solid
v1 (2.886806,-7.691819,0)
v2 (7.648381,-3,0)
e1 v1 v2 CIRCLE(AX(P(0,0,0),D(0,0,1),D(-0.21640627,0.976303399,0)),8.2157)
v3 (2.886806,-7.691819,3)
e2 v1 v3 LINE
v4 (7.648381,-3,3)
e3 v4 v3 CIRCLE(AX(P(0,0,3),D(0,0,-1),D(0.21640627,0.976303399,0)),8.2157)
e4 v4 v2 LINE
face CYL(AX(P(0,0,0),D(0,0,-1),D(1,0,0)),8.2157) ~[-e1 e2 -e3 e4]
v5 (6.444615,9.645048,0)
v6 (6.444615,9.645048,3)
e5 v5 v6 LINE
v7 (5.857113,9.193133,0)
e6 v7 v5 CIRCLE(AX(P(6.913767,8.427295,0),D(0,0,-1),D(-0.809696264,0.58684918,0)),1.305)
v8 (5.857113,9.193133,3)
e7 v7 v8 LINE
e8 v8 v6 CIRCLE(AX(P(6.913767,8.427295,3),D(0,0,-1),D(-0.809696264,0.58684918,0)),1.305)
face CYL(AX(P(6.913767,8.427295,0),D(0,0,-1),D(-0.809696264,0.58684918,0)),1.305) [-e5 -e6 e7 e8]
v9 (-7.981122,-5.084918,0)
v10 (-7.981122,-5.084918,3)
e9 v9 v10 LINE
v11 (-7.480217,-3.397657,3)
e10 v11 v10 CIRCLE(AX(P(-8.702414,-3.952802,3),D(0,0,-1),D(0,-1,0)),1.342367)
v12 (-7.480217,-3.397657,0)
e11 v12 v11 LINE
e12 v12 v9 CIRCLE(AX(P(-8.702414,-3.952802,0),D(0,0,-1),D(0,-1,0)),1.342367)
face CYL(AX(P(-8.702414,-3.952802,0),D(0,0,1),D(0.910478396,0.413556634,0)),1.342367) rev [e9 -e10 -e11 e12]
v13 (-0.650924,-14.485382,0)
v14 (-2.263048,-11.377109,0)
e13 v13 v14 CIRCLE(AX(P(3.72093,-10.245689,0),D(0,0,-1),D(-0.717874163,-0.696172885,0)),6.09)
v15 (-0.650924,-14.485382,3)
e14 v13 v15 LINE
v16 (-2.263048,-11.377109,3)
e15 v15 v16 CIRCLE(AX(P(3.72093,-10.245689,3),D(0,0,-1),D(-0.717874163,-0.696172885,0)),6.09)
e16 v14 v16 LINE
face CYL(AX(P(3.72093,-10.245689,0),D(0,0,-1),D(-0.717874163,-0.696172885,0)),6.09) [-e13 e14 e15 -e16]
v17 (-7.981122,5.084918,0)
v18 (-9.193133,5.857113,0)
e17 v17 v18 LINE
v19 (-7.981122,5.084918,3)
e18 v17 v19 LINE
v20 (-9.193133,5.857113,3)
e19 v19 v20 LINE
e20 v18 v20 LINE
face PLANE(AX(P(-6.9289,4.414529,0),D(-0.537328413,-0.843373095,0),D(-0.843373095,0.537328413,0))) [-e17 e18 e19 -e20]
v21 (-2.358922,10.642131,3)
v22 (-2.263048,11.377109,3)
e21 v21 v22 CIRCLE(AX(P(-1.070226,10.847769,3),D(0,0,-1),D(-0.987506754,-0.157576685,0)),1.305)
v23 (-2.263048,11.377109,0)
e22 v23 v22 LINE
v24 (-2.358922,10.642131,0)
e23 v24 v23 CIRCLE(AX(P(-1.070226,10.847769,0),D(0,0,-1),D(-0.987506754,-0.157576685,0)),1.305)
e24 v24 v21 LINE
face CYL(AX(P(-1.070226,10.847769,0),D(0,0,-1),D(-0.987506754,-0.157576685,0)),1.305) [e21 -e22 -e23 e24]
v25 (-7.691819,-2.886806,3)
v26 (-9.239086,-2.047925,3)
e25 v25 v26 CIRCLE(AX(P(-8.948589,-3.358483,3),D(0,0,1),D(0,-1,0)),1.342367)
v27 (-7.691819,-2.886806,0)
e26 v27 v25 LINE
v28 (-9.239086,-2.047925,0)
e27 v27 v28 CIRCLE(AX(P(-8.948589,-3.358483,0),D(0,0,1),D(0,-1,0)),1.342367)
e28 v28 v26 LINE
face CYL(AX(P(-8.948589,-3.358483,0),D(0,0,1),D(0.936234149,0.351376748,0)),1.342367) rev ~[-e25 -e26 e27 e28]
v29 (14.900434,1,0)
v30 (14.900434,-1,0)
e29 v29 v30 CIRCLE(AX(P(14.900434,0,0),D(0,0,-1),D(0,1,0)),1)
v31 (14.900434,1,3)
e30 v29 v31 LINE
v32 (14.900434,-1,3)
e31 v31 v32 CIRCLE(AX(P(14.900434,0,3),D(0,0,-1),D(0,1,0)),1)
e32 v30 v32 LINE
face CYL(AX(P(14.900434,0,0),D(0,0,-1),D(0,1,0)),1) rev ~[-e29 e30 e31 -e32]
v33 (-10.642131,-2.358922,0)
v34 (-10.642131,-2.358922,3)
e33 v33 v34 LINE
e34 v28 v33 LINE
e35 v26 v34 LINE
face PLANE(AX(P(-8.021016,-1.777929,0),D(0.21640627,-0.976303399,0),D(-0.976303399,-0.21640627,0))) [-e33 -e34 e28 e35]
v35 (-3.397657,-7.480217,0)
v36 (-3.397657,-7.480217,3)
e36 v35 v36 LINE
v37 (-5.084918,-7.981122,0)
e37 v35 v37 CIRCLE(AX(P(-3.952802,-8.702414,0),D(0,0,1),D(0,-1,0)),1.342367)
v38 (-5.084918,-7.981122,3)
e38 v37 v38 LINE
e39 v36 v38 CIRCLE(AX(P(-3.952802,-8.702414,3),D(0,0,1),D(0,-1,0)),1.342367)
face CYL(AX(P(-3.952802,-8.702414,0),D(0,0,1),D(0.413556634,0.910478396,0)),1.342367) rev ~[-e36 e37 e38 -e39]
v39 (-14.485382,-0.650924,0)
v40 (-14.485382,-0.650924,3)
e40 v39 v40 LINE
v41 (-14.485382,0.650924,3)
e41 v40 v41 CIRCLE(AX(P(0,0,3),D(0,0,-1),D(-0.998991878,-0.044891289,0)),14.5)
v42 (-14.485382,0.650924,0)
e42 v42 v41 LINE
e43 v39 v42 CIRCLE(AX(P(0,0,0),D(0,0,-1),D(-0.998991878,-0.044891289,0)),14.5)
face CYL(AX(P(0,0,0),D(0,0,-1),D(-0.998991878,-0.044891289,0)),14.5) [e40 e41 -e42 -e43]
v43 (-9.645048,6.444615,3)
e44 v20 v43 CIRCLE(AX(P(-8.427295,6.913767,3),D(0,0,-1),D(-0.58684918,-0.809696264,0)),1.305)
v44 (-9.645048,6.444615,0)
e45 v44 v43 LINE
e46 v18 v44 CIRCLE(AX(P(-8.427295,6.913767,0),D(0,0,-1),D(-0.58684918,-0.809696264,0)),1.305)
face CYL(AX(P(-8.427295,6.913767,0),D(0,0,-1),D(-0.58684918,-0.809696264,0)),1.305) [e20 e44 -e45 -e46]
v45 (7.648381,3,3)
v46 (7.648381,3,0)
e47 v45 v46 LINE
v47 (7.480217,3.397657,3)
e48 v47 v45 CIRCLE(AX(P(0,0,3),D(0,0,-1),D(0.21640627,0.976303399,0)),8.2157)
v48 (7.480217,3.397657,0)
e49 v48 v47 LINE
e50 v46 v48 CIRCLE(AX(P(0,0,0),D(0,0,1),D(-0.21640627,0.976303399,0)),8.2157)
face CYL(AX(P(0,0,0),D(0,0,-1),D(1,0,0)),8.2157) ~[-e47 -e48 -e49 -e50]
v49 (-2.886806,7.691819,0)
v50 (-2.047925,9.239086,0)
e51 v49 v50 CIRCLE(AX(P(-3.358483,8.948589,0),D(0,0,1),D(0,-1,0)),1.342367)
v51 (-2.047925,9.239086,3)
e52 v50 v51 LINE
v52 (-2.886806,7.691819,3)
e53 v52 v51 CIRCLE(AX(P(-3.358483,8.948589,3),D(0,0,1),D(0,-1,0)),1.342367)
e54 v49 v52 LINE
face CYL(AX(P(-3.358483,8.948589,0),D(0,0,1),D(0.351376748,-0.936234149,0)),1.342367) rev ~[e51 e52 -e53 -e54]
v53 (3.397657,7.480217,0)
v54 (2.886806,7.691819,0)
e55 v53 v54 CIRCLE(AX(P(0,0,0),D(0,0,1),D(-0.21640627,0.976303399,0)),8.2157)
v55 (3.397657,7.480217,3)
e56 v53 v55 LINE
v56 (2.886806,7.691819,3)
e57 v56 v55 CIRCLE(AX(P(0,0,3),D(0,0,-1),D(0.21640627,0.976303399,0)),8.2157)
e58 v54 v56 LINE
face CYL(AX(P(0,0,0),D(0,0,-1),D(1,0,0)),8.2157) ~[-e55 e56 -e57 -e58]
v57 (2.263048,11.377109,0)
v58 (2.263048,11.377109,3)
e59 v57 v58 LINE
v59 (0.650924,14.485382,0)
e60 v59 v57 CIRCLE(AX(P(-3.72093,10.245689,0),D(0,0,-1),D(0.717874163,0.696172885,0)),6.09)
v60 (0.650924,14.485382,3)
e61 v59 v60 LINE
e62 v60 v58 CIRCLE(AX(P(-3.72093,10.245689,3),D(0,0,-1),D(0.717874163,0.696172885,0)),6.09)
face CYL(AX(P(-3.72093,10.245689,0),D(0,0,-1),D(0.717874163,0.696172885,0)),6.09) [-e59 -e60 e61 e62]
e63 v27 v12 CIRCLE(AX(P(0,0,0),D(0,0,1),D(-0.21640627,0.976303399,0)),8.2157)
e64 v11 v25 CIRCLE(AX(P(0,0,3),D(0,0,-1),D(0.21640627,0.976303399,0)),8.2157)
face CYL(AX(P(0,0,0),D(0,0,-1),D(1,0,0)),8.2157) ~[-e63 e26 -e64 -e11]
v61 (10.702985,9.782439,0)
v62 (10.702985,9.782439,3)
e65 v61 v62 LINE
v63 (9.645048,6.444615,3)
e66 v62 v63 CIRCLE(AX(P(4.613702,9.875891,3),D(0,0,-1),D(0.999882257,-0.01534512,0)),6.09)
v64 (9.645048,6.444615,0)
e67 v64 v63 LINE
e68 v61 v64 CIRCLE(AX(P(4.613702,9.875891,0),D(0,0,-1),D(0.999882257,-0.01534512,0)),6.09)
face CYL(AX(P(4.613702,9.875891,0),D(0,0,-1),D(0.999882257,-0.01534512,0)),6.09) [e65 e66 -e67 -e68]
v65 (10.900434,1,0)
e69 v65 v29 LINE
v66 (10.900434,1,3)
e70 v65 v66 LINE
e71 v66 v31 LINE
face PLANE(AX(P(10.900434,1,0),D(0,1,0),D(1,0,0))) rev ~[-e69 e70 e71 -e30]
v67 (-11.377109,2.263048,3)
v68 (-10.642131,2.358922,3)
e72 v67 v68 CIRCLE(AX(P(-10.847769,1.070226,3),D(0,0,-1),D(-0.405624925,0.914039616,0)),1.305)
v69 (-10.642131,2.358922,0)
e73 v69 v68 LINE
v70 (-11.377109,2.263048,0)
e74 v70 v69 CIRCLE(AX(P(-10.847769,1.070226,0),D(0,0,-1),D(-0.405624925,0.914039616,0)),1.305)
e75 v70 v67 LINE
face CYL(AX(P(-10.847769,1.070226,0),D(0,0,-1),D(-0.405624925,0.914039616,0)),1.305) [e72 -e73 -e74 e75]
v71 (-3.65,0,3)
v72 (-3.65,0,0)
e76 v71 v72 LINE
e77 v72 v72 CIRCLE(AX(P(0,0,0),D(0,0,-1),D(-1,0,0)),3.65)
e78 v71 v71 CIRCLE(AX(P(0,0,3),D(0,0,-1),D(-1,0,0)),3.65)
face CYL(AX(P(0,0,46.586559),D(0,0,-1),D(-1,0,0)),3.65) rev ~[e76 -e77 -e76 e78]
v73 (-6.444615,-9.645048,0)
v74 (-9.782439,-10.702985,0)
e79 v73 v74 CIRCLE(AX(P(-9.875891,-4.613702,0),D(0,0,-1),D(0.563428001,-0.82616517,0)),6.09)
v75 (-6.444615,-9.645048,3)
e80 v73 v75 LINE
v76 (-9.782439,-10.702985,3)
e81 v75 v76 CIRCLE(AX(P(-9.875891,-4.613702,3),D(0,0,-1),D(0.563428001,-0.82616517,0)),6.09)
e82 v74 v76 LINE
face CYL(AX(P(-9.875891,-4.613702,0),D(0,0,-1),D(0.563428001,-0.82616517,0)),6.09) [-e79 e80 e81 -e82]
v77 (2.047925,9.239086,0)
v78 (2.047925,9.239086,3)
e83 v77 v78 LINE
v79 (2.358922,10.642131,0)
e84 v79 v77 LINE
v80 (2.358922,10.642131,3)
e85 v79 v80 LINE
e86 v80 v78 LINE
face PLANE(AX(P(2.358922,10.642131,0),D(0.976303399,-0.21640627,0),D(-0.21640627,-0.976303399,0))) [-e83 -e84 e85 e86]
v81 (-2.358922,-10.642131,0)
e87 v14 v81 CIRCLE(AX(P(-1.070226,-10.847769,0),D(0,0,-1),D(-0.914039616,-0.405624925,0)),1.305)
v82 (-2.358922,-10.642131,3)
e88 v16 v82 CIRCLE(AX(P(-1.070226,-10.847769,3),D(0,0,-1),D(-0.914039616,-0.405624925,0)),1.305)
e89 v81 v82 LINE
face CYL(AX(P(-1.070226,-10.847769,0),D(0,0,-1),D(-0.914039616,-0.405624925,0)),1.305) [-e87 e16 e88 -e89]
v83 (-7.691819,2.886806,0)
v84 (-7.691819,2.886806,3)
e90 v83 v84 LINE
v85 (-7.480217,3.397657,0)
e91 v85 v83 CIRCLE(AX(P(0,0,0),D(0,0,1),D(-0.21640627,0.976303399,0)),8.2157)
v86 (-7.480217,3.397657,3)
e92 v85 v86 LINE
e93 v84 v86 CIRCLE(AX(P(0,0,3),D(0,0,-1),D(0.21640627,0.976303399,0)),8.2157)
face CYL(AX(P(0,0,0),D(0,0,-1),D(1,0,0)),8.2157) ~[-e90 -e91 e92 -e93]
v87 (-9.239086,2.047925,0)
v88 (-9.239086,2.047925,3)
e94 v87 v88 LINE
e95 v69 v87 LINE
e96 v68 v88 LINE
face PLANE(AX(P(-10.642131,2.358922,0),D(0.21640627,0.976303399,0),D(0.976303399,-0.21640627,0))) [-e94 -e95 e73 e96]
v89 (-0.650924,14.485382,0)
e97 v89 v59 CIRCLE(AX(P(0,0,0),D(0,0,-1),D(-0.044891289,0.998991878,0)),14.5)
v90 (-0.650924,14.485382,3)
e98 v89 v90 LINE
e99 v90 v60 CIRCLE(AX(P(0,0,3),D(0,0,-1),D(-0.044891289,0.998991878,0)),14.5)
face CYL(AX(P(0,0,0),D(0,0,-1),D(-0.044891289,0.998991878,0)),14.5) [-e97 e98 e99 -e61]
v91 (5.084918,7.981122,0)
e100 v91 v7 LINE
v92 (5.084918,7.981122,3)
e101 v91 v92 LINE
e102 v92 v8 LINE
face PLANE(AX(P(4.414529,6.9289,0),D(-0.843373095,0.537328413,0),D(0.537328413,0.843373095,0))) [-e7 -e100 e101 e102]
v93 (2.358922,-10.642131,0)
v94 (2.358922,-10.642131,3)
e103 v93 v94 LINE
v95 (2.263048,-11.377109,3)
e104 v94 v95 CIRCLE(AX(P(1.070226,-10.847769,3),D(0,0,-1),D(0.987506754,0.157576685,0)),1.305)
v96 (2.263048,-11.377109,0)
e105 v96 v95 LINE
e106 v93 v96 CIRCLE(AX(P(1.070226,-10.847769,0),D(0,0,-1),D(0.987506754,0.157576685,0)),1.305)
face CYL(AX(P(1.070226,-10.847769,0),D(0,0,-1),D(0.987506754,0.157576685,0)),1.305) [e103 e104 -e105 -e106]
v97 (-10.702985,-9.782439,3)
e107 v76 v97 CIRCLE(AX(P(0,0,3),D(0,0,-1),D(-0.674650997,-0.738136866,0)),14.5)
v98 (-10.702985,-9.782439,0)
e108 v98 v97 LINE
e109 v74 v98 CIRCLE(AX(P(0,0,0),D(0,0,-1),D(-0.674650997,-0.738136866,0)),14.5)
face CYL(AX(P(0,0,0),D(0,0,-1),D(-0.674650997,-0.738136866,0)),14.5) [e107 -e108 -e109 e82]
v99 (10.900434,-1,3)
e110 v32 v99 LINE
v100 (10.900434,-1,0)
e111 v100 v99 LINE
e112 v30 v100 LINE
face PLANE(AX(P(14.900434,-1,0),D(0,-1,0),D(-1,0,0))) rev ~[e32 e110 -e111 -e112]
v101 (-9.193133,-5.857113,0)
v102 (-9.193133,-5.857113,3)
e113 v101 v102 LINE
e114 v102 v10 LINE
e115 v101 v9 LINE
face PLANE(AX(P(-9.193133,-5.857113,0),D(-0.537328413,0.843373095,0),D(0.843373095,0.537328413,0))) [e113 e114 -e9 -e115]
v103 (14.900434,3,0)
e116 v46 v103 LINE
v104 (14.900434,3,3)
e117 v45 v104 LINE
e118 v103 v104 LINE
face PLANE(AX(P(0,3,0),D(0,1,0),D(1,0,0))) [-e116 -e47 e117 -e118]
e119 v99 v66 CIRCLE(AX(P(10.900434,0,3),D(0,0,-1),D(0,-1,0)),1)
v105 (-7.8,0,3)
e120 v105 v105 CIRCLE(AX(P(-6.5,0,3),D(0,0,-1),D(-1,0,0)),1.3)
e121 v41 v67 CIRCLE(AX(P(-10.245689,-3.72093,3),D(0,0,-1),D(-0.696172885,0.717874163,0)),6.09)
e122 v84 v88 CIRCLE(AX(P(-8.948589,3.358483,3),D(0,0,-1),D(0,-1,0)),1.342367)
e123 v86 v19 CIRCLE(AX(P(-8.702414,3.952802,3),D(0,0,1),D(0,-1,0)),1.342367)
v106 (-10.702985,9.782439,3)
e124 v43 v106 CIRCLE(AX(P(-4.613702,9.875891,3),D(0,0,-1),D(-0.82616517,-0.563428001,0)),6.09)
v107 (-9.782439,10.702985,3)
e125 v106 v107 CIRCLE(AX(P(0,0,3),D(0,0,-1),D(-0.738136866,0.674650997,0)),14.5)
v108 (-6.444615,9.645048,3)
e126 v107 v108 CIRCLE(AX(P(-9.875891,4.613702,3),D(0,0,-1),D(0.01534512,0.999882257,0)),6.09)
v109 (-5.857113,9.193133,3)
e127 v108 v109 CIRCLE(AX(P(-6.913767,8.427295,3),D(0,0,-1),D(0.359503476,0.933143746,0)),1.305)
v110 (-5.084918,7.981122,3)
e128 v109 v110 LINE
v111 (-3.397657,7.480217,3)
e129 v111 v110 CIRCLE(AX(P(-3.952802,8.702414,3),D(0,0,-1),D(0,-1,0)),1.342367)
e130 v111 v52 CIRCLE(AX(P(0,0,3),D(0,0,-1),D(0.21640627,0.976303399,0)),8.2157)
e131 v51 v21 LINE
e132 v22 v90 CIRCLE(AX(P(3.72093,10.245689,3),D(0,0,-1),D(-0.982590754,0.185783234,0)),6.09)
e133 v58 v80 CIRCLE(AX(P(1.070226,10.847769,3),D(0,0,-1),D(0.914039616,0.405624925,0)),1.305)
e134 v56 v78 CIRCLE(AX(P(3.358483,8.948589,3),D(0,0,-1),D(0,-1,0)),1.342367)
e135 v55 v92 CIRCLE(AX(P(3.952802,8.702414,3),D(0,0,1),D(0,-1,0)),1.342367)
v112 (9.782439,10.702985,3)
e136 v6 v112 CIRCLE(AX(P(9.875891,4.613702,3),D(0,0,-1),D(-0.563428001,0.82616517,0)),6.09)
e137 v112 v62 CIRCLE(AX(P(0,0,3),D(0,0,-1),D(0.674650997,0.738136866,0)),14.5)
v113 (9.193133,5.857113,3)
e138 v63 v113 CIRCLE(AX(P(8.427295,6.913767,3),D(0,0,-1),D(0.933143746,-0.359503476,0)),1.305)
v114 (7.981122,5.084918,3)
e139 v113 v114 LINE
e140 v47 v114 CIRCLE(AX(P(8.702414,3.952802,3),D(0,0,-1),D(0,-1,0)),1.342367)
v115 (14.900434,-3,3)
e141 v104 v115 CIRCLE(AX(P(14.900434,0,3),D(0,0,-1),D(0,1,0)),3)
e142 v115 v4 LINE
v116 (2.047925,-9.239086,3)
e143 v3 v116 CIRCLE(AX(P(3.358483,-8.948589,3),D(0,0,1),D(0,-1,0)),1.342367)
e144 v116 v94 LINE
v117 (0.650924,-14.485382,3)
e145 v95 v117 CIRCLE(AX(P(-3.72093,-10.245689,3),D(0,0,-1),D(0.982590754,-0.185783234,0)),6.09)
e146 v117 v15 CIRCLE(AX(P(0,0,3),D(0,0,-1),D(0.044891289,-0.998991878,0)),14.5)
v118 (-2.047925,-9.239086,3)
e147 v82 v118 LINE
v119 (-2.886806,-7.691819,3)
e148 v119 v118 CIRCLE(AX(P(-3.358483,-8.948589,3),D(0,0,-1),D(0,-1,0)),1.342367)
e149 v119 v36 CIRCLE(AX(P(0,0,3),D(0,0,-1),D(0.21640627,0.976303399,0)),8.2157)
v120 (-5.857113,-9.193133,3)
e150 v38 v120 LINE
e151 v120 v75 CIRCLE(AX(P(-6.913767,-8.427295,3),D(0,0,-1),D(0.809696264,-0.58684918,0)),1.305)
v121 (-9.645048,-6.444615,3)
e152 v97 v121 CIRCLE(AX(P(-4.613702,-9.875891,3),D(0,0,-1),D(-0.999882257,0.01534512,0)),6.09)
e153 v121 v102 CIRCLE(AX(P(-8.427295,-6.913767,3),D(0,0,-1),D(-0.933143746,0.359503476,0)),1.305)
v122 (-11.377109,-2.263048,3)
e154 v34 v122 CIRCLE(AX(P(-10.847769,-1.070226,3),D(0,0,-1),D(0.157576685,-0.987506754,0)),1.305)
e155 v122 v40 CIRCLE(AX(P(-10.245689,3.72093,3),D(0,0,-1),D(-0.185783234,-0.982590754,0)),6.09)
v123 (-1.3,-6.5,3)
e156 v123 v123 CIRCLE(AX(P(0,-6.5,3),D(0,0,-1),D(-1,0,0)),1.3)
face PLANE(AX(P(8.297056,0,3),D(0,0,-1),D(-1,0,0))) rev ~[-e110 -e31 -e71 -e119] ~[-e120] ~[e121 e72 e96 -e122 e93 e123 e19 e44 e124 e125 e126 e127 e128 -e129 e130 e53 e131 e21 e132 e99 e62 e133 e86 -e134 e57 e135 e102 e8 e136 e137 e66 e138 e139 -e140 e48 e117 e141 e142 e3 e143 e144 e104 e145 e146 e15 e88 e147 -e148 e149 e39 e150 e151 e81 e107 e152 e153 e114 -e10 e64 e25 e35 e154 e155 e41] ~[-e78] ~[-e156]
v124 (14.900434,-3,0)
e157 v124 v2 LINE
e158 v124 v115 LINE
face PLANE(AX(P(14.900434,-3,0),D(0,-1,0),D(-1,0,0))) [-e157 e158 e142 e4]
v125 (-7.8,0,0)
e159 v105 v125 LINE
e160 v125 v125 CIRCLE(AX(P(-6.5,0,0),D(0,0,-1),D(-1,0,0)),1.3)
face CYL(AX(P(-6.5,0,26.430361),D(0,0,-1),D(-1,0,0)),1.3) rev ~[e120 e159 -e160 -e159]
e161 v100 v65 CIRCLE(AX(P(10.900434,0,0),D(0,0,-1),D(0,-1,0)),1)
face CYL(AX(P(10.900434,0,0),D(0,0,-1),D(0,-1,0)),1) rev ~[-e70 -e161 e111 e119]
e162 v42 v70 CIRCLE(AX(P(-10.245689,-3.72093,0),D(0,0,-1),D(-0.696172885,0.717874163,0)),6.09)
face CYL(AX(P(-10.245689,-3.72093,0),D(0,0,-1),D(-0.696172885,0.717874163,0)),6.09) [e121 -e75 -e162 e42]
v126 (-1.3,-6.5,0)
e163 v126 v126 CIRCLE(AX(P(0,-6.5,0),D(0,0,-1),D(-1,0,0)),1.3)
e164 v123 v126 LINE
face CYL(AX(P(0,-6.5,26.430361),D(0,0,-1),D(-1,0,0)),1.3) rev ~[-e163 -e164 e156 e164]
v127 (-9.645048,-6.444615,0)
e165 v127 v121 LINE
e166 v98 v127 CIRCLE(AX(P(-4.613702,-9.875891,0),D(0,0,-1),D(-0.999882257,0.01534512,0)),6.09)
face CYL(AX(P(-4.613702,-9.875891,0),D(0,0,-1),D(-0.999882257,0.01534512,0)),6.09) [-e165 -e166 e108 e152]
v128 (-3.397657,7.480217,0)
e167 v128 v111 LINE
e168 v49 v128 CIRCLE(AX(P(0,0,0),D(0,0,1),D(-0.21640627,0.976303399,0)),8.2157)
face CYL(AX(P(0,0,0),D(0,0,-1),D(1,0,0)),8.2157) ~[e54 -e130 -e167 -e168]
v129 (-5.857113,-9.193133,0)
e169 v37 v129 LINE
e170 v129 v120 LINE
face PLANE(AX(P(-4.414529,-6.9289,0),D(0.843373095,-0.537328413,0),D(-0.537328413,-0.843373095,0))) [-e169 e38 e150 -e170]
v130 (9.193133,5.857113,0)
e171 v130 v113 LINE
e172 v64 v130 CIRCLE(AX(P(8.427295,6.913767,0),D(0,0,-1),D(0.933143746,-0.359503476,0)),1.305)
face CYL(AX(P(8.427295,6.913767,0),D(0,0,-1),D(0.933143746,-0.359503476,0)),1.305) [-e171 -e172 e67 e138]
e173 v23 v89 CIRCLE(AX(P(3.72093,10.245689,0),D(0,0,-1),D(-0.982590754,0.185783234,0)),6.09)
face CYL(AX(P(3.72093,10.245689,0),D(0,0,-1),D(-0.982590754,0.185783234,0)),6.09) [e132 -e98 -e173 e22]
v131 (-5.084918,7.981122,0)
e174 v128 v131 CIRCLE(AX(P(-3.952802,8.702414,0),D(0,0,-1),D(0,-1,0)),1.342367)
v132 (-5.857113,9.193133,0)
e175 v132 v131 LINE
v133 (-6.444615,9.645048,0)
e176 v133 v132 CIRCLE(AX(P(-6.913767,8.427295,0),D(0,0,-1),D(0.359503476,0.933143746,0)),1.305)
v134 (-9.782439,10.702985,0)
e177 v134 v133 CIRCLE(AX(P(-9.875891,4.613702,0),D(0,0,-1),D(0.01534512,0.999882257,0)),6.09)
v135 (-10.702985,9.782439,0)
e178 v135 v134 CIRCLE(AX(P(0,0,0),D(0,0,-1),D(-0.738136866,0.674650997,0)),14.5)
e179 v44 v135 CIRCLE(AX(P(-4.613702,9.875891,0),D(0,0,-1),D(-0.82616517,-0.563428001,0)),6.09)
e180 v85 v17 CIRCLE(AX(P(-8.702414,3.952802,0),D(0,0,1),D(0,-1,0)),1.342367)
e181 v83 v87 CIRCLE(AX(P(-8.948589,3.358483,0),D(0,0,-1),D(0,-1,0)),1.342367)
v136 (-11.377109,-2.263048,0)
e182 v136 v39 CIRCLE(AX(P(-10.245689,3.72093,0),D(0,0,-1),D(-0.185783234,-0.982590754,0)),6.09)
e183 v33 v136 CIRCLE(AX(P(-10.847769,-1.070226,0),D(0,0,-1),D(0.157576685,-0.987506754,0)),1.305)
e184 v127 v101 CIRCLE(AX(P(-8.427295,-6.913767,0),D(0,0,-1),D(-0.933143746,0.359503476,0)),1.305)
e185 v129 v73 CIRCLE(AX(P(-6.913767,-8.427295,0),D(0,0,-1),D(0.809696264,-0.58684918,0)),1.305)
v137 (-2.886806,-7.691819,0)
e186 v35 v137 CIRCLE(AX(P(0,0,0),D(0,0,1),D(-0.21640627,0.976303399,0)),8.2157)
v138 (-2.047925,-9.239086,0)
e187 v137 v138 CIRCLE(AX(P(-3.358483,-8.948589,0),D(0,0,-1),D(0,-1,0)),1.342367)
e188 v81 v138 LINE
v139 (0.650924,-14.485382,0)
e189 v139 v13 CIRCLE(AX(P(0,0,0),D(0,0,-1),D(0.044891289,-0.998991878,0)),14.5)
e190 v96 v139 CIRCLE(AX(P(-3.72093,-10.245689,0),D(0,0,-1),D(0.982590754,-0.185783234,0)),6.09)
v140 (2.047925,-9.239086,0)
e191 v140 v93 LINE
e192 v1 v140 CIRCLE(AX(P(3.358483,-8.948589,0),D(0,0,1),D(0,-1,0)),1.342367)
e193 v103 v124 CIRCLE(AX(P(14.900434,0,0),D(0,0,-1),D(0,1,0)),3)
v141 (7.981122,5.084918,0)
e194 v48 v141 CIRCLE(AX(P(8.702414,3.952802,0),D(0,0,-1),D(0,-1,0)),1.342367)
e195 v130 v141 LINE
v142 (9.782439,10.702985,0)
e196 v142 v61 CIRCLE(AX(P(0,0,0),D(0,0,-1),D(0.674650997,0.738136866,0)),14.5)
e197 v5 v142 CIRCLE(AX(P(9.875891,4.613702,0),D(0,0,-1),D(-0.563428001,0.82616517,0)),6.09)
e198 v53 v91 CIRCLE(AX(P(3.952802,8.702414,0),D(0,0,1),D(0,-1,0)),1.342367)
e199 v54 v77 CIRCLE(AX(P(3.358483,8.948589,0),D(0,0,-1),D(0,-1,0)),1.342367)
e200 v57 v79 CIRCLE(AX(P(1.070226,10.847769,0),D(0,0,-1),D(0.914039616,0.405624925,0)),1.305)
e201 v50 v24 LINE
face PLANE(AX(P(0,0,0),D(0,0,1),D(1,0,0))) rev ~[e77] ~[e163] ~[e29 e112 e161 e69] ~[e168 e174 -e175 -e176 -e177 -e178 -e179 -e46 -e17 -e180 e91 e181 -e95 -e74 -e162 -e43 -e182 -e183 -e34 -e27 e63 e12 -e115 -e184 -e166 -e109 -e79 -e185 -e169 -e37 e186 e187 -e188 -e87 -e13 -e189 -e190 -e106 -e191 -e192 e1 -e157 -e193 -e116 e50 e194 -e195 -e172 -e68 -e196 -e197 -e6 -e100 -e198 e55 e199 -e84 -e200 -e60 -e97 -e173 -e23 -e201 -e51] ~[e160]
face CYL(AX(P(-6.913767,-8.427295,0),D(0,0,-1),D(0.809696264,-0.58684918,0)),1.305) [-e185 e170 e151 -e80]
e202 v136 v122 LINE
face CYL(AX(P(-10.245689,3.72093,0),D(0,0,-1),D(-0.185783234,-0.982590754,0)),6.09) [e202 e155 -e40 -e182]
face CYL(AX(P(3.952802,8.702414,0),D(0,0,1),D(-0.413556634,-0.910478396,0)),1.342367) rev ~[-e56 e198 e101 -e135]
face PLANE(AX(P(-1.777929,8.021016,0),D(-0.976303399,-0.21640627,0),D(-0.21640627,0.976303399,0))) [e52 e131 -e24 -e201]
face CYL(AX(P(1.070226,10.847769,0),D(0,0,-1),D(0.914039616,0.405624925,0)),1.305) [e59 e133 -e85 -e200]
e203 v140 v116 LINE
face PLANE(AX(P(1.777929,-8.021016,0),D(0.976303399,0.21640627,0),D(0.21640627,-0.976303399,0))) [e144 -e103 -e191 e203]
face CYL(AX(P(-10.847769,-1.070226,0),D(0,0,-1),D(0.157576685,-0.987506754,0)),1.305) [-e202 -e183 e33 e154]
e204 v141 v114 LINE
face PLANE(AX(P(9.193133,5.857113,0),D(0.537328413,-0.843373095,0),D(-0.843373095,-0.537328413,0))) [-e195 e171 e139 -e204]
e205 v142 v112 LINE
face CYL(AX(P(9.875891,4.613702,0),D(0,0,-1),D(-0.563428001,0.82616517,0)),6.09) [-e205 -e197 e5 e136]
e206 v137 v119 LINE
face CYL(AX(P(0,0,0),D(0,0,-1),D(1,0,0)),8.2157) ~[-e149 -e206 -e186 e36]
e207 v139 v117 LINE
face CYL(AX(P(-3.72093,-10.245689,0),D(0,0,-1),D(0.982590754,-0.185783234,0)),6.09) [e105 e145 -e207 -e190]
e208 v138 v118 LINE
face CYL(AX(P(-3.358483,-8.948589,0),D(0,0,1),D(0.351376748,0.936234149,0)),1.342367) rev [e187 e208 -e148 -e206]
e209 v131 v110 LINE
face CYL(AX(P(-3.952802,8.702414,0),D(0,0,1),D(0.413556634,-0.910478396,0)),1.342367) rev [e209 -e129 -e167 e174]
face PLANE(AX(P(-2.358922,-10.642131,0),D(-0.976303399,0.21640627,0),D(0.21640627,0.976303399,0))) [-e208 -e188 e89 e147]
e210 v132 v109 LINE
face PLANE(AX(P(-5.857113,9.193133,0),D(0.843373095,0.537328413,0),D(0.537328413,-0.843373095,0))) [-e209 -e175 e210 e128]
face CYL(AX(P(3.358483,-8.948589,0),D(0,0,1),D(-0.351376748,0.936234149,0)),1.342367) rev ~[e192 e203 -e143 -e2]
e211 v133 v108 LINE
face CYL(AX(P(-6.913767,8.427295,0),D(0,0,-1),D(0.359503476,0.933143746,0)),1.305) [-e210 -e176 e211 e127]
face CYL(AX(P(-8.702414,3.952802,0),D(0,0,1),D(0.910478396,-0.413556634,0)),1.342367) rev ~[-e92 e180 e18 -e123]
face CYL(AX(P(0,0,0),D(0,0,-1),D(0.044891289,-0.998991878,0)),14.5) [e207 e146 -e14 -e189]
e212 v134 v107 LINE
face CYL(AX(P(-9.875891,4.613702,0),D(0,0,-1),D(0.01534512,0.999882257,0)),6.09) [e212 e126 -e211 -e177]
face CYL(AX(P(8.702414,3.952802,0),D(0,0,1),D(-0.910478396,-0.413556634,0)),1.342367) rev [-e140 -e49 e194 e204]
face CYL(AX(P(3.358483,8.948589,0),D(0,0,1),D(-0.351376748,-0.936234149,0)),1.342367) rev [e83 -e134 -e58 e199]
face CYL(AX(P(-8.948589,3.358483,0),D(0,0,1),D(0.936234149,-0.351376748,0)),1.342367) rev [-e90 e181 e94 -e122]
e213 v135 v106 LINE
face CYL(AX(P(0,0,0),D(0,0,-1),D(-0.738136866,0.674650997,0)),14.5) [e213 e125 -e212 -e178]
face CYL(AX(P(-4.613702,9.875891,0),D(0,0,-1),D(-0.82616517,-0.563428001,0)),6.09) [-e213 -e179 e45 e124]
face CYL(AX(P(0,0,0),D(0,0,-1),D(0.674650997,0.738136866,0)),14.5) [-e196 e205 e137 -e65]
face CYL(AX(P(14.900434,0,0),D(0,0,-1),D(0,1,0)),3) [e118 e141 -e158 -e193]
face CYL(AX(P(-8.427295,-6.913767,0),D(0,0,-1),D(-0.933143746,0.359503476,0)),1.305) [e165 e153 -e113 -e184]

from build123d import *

# Parameters (mm, degrees)
POSICIONAMENTOS_R               = 8.2157
BASE_DEPTH                      = 3
FURO_DE_DI_METRO_2_6_2_6_1_D    = 2.6
BASE_DENTE_DEPTH                = 3
RAIO_DENTE_R                    = 1.342367201
PADR_OCIRCULAR1_COUNT           = 8
RAIO_DENTE_OF_PADR_OCIRCULAR1_R = 1.342367201
RESSALTO_EXTRUS_O1_DEPTH        = 3
FURO_DE_DI_METRO_7_3_7_3_1_D    = 7.3


with BuildPart() as part:
    # Posicionamentos → Base (new body)
    with BuildSketch(Plane.XY):
        Circle(POSICIONAMENTOS_R)
    extrude(amount=BASE_DEPTH)

    # Furo de diâmetro Ø2.6 (2.6)1 (through all)
    with Locations(Plane.XY.offset(3)):
        with Locations((0, -6.5), (-6.5, 0)):
            Hole(FURO_DE_DI_METRO_2_6_2_6_1_D / 2)

    # Dente → Base Dente (add, through all)
    with BuildSketch(Plane.XY):
        with BuildLine():
            Line((2.358922349, 10.642131153), (1.777928991, 8.021015833))
            ThreePointArc((1.777928991, 8.021015833), (0, 8.2157), (-1.777928991, 8.021015833))
            Line((-1.777928991, 8.021015833), (-2.358922349, 10.642131153))
            ThreePointArc((-2.358922349, 10.642131153), (-2.364262787, 11.016570047), (-2.263047735, 11.377109253))
            ThreePointArc((-2.263047735, 11.377109253), (-1.685191659, 13.049606095), (-0.650923694, 14.48538223))
            ThreePointArc((-0.650923694, 14.48538223), (0, 14.5), (0.650923694, 14.48538223))
            ThreePointArc((0.650923694, 14.48538223), (1.685191659, 13.049606095), (2.263047735, 11.377109253))
            ThreePointArc((2.263047735, 11.377109253), (2.364262787, 11.016570047), (2.358922349, 10.642131153))
        make_face()
    base_dente = extrude(amount=BASE_DENTE_DEPTH)

    # Raio Dente
    raio_dente_edges = [part.edges().sort_by_distance(p)[0] for p in [
        (-1.777928991, 8.021015833, 1.5),
        (1.777928991, 8.021015833, 1.5),
    ]]
    fillet(raio_dente_edges, radius=RAIO_DENTE_R)

    # PadrãoCircular1: Base Dente ×8 about axis, 2 skipped
    padr_ocircular1_axis = Axis((0, 0, 0), (0, 0, -1))
    add([base_dente.rotate(padr_ocircular1_axis, i * 360 / PADR_OCIRCULAR1_COUNT) for i in range(1, PADR_OCIRCULAR1_COUNT) if i not in (2, 3)])

    # Raio Dente of PadrãoCircular1
    raio_dente_of_padr_ocircular1_edges = [part.edges().sort_by_distance(p)[0] for p in [
        (4.414529041, 6.928900334, 1.5),
        (6.928900334, 4.414529041, 1.5),
        (1.777928991, -8.021015833, 1.5),
        (-1.777928991, -8.021015833, 1.5),
        (-4.414529041, -6.928900334, 1.5),
        (-6.928900334, -4.414529041, 1.5),
        (-8.021015833, -1.777928991, 1.5),
        (-8.021015833, 1.777928991, 1.5),
        (-6.928900334, 4.414529041, 1.5),
        (-4.414529041, 6.928900334, 1.5),
    ]]
    fillet(raio_dente_of_padr_ocircular1_edges, radius=RAIO_DENTE_OF_PADR_OCIRCULAR1_R)

    # Encaixe → Ressalto-extrusão1 (add, through all)
    with BuildSketch(Plane.XY):
        with BuildLine():
            Line((0, 3), (14.900434401, 3))
            ThreePointArc((14.900434401, 3), (17.900434401, 0), (14.900434401, -3))
            Line((14.900434401, -3), (0, -3))
            Line((0, -3), (0, 3))
        make_face()
        with BuildLine():
            Line((10.900434401, 1), (14.900434401, 1))
            ThreePointArc((14.900434401, 1), (15.900434401, 0), (14.900434401, -1))
            Line((14.900434401, -1), (10.900434401, -1))
            ThreePointArc((10.900434401, -1), (9.900434401, 0), (10.900434401, 1))
        make_face(mode=Mode.SUBTRACT)
    extrude(amount=RESSALTO_EXTRUS_O1_DEPTH)

    # Furo de diâmetro Ø7.3 (7.3)1 (through all)
    with Locations(Plane.XY.offset(3)):
        with Locations((0, 0)):
            Hole(FURO_DE_DI_METRO_7_3_7_3_1_D / 2)


solid = part.part
